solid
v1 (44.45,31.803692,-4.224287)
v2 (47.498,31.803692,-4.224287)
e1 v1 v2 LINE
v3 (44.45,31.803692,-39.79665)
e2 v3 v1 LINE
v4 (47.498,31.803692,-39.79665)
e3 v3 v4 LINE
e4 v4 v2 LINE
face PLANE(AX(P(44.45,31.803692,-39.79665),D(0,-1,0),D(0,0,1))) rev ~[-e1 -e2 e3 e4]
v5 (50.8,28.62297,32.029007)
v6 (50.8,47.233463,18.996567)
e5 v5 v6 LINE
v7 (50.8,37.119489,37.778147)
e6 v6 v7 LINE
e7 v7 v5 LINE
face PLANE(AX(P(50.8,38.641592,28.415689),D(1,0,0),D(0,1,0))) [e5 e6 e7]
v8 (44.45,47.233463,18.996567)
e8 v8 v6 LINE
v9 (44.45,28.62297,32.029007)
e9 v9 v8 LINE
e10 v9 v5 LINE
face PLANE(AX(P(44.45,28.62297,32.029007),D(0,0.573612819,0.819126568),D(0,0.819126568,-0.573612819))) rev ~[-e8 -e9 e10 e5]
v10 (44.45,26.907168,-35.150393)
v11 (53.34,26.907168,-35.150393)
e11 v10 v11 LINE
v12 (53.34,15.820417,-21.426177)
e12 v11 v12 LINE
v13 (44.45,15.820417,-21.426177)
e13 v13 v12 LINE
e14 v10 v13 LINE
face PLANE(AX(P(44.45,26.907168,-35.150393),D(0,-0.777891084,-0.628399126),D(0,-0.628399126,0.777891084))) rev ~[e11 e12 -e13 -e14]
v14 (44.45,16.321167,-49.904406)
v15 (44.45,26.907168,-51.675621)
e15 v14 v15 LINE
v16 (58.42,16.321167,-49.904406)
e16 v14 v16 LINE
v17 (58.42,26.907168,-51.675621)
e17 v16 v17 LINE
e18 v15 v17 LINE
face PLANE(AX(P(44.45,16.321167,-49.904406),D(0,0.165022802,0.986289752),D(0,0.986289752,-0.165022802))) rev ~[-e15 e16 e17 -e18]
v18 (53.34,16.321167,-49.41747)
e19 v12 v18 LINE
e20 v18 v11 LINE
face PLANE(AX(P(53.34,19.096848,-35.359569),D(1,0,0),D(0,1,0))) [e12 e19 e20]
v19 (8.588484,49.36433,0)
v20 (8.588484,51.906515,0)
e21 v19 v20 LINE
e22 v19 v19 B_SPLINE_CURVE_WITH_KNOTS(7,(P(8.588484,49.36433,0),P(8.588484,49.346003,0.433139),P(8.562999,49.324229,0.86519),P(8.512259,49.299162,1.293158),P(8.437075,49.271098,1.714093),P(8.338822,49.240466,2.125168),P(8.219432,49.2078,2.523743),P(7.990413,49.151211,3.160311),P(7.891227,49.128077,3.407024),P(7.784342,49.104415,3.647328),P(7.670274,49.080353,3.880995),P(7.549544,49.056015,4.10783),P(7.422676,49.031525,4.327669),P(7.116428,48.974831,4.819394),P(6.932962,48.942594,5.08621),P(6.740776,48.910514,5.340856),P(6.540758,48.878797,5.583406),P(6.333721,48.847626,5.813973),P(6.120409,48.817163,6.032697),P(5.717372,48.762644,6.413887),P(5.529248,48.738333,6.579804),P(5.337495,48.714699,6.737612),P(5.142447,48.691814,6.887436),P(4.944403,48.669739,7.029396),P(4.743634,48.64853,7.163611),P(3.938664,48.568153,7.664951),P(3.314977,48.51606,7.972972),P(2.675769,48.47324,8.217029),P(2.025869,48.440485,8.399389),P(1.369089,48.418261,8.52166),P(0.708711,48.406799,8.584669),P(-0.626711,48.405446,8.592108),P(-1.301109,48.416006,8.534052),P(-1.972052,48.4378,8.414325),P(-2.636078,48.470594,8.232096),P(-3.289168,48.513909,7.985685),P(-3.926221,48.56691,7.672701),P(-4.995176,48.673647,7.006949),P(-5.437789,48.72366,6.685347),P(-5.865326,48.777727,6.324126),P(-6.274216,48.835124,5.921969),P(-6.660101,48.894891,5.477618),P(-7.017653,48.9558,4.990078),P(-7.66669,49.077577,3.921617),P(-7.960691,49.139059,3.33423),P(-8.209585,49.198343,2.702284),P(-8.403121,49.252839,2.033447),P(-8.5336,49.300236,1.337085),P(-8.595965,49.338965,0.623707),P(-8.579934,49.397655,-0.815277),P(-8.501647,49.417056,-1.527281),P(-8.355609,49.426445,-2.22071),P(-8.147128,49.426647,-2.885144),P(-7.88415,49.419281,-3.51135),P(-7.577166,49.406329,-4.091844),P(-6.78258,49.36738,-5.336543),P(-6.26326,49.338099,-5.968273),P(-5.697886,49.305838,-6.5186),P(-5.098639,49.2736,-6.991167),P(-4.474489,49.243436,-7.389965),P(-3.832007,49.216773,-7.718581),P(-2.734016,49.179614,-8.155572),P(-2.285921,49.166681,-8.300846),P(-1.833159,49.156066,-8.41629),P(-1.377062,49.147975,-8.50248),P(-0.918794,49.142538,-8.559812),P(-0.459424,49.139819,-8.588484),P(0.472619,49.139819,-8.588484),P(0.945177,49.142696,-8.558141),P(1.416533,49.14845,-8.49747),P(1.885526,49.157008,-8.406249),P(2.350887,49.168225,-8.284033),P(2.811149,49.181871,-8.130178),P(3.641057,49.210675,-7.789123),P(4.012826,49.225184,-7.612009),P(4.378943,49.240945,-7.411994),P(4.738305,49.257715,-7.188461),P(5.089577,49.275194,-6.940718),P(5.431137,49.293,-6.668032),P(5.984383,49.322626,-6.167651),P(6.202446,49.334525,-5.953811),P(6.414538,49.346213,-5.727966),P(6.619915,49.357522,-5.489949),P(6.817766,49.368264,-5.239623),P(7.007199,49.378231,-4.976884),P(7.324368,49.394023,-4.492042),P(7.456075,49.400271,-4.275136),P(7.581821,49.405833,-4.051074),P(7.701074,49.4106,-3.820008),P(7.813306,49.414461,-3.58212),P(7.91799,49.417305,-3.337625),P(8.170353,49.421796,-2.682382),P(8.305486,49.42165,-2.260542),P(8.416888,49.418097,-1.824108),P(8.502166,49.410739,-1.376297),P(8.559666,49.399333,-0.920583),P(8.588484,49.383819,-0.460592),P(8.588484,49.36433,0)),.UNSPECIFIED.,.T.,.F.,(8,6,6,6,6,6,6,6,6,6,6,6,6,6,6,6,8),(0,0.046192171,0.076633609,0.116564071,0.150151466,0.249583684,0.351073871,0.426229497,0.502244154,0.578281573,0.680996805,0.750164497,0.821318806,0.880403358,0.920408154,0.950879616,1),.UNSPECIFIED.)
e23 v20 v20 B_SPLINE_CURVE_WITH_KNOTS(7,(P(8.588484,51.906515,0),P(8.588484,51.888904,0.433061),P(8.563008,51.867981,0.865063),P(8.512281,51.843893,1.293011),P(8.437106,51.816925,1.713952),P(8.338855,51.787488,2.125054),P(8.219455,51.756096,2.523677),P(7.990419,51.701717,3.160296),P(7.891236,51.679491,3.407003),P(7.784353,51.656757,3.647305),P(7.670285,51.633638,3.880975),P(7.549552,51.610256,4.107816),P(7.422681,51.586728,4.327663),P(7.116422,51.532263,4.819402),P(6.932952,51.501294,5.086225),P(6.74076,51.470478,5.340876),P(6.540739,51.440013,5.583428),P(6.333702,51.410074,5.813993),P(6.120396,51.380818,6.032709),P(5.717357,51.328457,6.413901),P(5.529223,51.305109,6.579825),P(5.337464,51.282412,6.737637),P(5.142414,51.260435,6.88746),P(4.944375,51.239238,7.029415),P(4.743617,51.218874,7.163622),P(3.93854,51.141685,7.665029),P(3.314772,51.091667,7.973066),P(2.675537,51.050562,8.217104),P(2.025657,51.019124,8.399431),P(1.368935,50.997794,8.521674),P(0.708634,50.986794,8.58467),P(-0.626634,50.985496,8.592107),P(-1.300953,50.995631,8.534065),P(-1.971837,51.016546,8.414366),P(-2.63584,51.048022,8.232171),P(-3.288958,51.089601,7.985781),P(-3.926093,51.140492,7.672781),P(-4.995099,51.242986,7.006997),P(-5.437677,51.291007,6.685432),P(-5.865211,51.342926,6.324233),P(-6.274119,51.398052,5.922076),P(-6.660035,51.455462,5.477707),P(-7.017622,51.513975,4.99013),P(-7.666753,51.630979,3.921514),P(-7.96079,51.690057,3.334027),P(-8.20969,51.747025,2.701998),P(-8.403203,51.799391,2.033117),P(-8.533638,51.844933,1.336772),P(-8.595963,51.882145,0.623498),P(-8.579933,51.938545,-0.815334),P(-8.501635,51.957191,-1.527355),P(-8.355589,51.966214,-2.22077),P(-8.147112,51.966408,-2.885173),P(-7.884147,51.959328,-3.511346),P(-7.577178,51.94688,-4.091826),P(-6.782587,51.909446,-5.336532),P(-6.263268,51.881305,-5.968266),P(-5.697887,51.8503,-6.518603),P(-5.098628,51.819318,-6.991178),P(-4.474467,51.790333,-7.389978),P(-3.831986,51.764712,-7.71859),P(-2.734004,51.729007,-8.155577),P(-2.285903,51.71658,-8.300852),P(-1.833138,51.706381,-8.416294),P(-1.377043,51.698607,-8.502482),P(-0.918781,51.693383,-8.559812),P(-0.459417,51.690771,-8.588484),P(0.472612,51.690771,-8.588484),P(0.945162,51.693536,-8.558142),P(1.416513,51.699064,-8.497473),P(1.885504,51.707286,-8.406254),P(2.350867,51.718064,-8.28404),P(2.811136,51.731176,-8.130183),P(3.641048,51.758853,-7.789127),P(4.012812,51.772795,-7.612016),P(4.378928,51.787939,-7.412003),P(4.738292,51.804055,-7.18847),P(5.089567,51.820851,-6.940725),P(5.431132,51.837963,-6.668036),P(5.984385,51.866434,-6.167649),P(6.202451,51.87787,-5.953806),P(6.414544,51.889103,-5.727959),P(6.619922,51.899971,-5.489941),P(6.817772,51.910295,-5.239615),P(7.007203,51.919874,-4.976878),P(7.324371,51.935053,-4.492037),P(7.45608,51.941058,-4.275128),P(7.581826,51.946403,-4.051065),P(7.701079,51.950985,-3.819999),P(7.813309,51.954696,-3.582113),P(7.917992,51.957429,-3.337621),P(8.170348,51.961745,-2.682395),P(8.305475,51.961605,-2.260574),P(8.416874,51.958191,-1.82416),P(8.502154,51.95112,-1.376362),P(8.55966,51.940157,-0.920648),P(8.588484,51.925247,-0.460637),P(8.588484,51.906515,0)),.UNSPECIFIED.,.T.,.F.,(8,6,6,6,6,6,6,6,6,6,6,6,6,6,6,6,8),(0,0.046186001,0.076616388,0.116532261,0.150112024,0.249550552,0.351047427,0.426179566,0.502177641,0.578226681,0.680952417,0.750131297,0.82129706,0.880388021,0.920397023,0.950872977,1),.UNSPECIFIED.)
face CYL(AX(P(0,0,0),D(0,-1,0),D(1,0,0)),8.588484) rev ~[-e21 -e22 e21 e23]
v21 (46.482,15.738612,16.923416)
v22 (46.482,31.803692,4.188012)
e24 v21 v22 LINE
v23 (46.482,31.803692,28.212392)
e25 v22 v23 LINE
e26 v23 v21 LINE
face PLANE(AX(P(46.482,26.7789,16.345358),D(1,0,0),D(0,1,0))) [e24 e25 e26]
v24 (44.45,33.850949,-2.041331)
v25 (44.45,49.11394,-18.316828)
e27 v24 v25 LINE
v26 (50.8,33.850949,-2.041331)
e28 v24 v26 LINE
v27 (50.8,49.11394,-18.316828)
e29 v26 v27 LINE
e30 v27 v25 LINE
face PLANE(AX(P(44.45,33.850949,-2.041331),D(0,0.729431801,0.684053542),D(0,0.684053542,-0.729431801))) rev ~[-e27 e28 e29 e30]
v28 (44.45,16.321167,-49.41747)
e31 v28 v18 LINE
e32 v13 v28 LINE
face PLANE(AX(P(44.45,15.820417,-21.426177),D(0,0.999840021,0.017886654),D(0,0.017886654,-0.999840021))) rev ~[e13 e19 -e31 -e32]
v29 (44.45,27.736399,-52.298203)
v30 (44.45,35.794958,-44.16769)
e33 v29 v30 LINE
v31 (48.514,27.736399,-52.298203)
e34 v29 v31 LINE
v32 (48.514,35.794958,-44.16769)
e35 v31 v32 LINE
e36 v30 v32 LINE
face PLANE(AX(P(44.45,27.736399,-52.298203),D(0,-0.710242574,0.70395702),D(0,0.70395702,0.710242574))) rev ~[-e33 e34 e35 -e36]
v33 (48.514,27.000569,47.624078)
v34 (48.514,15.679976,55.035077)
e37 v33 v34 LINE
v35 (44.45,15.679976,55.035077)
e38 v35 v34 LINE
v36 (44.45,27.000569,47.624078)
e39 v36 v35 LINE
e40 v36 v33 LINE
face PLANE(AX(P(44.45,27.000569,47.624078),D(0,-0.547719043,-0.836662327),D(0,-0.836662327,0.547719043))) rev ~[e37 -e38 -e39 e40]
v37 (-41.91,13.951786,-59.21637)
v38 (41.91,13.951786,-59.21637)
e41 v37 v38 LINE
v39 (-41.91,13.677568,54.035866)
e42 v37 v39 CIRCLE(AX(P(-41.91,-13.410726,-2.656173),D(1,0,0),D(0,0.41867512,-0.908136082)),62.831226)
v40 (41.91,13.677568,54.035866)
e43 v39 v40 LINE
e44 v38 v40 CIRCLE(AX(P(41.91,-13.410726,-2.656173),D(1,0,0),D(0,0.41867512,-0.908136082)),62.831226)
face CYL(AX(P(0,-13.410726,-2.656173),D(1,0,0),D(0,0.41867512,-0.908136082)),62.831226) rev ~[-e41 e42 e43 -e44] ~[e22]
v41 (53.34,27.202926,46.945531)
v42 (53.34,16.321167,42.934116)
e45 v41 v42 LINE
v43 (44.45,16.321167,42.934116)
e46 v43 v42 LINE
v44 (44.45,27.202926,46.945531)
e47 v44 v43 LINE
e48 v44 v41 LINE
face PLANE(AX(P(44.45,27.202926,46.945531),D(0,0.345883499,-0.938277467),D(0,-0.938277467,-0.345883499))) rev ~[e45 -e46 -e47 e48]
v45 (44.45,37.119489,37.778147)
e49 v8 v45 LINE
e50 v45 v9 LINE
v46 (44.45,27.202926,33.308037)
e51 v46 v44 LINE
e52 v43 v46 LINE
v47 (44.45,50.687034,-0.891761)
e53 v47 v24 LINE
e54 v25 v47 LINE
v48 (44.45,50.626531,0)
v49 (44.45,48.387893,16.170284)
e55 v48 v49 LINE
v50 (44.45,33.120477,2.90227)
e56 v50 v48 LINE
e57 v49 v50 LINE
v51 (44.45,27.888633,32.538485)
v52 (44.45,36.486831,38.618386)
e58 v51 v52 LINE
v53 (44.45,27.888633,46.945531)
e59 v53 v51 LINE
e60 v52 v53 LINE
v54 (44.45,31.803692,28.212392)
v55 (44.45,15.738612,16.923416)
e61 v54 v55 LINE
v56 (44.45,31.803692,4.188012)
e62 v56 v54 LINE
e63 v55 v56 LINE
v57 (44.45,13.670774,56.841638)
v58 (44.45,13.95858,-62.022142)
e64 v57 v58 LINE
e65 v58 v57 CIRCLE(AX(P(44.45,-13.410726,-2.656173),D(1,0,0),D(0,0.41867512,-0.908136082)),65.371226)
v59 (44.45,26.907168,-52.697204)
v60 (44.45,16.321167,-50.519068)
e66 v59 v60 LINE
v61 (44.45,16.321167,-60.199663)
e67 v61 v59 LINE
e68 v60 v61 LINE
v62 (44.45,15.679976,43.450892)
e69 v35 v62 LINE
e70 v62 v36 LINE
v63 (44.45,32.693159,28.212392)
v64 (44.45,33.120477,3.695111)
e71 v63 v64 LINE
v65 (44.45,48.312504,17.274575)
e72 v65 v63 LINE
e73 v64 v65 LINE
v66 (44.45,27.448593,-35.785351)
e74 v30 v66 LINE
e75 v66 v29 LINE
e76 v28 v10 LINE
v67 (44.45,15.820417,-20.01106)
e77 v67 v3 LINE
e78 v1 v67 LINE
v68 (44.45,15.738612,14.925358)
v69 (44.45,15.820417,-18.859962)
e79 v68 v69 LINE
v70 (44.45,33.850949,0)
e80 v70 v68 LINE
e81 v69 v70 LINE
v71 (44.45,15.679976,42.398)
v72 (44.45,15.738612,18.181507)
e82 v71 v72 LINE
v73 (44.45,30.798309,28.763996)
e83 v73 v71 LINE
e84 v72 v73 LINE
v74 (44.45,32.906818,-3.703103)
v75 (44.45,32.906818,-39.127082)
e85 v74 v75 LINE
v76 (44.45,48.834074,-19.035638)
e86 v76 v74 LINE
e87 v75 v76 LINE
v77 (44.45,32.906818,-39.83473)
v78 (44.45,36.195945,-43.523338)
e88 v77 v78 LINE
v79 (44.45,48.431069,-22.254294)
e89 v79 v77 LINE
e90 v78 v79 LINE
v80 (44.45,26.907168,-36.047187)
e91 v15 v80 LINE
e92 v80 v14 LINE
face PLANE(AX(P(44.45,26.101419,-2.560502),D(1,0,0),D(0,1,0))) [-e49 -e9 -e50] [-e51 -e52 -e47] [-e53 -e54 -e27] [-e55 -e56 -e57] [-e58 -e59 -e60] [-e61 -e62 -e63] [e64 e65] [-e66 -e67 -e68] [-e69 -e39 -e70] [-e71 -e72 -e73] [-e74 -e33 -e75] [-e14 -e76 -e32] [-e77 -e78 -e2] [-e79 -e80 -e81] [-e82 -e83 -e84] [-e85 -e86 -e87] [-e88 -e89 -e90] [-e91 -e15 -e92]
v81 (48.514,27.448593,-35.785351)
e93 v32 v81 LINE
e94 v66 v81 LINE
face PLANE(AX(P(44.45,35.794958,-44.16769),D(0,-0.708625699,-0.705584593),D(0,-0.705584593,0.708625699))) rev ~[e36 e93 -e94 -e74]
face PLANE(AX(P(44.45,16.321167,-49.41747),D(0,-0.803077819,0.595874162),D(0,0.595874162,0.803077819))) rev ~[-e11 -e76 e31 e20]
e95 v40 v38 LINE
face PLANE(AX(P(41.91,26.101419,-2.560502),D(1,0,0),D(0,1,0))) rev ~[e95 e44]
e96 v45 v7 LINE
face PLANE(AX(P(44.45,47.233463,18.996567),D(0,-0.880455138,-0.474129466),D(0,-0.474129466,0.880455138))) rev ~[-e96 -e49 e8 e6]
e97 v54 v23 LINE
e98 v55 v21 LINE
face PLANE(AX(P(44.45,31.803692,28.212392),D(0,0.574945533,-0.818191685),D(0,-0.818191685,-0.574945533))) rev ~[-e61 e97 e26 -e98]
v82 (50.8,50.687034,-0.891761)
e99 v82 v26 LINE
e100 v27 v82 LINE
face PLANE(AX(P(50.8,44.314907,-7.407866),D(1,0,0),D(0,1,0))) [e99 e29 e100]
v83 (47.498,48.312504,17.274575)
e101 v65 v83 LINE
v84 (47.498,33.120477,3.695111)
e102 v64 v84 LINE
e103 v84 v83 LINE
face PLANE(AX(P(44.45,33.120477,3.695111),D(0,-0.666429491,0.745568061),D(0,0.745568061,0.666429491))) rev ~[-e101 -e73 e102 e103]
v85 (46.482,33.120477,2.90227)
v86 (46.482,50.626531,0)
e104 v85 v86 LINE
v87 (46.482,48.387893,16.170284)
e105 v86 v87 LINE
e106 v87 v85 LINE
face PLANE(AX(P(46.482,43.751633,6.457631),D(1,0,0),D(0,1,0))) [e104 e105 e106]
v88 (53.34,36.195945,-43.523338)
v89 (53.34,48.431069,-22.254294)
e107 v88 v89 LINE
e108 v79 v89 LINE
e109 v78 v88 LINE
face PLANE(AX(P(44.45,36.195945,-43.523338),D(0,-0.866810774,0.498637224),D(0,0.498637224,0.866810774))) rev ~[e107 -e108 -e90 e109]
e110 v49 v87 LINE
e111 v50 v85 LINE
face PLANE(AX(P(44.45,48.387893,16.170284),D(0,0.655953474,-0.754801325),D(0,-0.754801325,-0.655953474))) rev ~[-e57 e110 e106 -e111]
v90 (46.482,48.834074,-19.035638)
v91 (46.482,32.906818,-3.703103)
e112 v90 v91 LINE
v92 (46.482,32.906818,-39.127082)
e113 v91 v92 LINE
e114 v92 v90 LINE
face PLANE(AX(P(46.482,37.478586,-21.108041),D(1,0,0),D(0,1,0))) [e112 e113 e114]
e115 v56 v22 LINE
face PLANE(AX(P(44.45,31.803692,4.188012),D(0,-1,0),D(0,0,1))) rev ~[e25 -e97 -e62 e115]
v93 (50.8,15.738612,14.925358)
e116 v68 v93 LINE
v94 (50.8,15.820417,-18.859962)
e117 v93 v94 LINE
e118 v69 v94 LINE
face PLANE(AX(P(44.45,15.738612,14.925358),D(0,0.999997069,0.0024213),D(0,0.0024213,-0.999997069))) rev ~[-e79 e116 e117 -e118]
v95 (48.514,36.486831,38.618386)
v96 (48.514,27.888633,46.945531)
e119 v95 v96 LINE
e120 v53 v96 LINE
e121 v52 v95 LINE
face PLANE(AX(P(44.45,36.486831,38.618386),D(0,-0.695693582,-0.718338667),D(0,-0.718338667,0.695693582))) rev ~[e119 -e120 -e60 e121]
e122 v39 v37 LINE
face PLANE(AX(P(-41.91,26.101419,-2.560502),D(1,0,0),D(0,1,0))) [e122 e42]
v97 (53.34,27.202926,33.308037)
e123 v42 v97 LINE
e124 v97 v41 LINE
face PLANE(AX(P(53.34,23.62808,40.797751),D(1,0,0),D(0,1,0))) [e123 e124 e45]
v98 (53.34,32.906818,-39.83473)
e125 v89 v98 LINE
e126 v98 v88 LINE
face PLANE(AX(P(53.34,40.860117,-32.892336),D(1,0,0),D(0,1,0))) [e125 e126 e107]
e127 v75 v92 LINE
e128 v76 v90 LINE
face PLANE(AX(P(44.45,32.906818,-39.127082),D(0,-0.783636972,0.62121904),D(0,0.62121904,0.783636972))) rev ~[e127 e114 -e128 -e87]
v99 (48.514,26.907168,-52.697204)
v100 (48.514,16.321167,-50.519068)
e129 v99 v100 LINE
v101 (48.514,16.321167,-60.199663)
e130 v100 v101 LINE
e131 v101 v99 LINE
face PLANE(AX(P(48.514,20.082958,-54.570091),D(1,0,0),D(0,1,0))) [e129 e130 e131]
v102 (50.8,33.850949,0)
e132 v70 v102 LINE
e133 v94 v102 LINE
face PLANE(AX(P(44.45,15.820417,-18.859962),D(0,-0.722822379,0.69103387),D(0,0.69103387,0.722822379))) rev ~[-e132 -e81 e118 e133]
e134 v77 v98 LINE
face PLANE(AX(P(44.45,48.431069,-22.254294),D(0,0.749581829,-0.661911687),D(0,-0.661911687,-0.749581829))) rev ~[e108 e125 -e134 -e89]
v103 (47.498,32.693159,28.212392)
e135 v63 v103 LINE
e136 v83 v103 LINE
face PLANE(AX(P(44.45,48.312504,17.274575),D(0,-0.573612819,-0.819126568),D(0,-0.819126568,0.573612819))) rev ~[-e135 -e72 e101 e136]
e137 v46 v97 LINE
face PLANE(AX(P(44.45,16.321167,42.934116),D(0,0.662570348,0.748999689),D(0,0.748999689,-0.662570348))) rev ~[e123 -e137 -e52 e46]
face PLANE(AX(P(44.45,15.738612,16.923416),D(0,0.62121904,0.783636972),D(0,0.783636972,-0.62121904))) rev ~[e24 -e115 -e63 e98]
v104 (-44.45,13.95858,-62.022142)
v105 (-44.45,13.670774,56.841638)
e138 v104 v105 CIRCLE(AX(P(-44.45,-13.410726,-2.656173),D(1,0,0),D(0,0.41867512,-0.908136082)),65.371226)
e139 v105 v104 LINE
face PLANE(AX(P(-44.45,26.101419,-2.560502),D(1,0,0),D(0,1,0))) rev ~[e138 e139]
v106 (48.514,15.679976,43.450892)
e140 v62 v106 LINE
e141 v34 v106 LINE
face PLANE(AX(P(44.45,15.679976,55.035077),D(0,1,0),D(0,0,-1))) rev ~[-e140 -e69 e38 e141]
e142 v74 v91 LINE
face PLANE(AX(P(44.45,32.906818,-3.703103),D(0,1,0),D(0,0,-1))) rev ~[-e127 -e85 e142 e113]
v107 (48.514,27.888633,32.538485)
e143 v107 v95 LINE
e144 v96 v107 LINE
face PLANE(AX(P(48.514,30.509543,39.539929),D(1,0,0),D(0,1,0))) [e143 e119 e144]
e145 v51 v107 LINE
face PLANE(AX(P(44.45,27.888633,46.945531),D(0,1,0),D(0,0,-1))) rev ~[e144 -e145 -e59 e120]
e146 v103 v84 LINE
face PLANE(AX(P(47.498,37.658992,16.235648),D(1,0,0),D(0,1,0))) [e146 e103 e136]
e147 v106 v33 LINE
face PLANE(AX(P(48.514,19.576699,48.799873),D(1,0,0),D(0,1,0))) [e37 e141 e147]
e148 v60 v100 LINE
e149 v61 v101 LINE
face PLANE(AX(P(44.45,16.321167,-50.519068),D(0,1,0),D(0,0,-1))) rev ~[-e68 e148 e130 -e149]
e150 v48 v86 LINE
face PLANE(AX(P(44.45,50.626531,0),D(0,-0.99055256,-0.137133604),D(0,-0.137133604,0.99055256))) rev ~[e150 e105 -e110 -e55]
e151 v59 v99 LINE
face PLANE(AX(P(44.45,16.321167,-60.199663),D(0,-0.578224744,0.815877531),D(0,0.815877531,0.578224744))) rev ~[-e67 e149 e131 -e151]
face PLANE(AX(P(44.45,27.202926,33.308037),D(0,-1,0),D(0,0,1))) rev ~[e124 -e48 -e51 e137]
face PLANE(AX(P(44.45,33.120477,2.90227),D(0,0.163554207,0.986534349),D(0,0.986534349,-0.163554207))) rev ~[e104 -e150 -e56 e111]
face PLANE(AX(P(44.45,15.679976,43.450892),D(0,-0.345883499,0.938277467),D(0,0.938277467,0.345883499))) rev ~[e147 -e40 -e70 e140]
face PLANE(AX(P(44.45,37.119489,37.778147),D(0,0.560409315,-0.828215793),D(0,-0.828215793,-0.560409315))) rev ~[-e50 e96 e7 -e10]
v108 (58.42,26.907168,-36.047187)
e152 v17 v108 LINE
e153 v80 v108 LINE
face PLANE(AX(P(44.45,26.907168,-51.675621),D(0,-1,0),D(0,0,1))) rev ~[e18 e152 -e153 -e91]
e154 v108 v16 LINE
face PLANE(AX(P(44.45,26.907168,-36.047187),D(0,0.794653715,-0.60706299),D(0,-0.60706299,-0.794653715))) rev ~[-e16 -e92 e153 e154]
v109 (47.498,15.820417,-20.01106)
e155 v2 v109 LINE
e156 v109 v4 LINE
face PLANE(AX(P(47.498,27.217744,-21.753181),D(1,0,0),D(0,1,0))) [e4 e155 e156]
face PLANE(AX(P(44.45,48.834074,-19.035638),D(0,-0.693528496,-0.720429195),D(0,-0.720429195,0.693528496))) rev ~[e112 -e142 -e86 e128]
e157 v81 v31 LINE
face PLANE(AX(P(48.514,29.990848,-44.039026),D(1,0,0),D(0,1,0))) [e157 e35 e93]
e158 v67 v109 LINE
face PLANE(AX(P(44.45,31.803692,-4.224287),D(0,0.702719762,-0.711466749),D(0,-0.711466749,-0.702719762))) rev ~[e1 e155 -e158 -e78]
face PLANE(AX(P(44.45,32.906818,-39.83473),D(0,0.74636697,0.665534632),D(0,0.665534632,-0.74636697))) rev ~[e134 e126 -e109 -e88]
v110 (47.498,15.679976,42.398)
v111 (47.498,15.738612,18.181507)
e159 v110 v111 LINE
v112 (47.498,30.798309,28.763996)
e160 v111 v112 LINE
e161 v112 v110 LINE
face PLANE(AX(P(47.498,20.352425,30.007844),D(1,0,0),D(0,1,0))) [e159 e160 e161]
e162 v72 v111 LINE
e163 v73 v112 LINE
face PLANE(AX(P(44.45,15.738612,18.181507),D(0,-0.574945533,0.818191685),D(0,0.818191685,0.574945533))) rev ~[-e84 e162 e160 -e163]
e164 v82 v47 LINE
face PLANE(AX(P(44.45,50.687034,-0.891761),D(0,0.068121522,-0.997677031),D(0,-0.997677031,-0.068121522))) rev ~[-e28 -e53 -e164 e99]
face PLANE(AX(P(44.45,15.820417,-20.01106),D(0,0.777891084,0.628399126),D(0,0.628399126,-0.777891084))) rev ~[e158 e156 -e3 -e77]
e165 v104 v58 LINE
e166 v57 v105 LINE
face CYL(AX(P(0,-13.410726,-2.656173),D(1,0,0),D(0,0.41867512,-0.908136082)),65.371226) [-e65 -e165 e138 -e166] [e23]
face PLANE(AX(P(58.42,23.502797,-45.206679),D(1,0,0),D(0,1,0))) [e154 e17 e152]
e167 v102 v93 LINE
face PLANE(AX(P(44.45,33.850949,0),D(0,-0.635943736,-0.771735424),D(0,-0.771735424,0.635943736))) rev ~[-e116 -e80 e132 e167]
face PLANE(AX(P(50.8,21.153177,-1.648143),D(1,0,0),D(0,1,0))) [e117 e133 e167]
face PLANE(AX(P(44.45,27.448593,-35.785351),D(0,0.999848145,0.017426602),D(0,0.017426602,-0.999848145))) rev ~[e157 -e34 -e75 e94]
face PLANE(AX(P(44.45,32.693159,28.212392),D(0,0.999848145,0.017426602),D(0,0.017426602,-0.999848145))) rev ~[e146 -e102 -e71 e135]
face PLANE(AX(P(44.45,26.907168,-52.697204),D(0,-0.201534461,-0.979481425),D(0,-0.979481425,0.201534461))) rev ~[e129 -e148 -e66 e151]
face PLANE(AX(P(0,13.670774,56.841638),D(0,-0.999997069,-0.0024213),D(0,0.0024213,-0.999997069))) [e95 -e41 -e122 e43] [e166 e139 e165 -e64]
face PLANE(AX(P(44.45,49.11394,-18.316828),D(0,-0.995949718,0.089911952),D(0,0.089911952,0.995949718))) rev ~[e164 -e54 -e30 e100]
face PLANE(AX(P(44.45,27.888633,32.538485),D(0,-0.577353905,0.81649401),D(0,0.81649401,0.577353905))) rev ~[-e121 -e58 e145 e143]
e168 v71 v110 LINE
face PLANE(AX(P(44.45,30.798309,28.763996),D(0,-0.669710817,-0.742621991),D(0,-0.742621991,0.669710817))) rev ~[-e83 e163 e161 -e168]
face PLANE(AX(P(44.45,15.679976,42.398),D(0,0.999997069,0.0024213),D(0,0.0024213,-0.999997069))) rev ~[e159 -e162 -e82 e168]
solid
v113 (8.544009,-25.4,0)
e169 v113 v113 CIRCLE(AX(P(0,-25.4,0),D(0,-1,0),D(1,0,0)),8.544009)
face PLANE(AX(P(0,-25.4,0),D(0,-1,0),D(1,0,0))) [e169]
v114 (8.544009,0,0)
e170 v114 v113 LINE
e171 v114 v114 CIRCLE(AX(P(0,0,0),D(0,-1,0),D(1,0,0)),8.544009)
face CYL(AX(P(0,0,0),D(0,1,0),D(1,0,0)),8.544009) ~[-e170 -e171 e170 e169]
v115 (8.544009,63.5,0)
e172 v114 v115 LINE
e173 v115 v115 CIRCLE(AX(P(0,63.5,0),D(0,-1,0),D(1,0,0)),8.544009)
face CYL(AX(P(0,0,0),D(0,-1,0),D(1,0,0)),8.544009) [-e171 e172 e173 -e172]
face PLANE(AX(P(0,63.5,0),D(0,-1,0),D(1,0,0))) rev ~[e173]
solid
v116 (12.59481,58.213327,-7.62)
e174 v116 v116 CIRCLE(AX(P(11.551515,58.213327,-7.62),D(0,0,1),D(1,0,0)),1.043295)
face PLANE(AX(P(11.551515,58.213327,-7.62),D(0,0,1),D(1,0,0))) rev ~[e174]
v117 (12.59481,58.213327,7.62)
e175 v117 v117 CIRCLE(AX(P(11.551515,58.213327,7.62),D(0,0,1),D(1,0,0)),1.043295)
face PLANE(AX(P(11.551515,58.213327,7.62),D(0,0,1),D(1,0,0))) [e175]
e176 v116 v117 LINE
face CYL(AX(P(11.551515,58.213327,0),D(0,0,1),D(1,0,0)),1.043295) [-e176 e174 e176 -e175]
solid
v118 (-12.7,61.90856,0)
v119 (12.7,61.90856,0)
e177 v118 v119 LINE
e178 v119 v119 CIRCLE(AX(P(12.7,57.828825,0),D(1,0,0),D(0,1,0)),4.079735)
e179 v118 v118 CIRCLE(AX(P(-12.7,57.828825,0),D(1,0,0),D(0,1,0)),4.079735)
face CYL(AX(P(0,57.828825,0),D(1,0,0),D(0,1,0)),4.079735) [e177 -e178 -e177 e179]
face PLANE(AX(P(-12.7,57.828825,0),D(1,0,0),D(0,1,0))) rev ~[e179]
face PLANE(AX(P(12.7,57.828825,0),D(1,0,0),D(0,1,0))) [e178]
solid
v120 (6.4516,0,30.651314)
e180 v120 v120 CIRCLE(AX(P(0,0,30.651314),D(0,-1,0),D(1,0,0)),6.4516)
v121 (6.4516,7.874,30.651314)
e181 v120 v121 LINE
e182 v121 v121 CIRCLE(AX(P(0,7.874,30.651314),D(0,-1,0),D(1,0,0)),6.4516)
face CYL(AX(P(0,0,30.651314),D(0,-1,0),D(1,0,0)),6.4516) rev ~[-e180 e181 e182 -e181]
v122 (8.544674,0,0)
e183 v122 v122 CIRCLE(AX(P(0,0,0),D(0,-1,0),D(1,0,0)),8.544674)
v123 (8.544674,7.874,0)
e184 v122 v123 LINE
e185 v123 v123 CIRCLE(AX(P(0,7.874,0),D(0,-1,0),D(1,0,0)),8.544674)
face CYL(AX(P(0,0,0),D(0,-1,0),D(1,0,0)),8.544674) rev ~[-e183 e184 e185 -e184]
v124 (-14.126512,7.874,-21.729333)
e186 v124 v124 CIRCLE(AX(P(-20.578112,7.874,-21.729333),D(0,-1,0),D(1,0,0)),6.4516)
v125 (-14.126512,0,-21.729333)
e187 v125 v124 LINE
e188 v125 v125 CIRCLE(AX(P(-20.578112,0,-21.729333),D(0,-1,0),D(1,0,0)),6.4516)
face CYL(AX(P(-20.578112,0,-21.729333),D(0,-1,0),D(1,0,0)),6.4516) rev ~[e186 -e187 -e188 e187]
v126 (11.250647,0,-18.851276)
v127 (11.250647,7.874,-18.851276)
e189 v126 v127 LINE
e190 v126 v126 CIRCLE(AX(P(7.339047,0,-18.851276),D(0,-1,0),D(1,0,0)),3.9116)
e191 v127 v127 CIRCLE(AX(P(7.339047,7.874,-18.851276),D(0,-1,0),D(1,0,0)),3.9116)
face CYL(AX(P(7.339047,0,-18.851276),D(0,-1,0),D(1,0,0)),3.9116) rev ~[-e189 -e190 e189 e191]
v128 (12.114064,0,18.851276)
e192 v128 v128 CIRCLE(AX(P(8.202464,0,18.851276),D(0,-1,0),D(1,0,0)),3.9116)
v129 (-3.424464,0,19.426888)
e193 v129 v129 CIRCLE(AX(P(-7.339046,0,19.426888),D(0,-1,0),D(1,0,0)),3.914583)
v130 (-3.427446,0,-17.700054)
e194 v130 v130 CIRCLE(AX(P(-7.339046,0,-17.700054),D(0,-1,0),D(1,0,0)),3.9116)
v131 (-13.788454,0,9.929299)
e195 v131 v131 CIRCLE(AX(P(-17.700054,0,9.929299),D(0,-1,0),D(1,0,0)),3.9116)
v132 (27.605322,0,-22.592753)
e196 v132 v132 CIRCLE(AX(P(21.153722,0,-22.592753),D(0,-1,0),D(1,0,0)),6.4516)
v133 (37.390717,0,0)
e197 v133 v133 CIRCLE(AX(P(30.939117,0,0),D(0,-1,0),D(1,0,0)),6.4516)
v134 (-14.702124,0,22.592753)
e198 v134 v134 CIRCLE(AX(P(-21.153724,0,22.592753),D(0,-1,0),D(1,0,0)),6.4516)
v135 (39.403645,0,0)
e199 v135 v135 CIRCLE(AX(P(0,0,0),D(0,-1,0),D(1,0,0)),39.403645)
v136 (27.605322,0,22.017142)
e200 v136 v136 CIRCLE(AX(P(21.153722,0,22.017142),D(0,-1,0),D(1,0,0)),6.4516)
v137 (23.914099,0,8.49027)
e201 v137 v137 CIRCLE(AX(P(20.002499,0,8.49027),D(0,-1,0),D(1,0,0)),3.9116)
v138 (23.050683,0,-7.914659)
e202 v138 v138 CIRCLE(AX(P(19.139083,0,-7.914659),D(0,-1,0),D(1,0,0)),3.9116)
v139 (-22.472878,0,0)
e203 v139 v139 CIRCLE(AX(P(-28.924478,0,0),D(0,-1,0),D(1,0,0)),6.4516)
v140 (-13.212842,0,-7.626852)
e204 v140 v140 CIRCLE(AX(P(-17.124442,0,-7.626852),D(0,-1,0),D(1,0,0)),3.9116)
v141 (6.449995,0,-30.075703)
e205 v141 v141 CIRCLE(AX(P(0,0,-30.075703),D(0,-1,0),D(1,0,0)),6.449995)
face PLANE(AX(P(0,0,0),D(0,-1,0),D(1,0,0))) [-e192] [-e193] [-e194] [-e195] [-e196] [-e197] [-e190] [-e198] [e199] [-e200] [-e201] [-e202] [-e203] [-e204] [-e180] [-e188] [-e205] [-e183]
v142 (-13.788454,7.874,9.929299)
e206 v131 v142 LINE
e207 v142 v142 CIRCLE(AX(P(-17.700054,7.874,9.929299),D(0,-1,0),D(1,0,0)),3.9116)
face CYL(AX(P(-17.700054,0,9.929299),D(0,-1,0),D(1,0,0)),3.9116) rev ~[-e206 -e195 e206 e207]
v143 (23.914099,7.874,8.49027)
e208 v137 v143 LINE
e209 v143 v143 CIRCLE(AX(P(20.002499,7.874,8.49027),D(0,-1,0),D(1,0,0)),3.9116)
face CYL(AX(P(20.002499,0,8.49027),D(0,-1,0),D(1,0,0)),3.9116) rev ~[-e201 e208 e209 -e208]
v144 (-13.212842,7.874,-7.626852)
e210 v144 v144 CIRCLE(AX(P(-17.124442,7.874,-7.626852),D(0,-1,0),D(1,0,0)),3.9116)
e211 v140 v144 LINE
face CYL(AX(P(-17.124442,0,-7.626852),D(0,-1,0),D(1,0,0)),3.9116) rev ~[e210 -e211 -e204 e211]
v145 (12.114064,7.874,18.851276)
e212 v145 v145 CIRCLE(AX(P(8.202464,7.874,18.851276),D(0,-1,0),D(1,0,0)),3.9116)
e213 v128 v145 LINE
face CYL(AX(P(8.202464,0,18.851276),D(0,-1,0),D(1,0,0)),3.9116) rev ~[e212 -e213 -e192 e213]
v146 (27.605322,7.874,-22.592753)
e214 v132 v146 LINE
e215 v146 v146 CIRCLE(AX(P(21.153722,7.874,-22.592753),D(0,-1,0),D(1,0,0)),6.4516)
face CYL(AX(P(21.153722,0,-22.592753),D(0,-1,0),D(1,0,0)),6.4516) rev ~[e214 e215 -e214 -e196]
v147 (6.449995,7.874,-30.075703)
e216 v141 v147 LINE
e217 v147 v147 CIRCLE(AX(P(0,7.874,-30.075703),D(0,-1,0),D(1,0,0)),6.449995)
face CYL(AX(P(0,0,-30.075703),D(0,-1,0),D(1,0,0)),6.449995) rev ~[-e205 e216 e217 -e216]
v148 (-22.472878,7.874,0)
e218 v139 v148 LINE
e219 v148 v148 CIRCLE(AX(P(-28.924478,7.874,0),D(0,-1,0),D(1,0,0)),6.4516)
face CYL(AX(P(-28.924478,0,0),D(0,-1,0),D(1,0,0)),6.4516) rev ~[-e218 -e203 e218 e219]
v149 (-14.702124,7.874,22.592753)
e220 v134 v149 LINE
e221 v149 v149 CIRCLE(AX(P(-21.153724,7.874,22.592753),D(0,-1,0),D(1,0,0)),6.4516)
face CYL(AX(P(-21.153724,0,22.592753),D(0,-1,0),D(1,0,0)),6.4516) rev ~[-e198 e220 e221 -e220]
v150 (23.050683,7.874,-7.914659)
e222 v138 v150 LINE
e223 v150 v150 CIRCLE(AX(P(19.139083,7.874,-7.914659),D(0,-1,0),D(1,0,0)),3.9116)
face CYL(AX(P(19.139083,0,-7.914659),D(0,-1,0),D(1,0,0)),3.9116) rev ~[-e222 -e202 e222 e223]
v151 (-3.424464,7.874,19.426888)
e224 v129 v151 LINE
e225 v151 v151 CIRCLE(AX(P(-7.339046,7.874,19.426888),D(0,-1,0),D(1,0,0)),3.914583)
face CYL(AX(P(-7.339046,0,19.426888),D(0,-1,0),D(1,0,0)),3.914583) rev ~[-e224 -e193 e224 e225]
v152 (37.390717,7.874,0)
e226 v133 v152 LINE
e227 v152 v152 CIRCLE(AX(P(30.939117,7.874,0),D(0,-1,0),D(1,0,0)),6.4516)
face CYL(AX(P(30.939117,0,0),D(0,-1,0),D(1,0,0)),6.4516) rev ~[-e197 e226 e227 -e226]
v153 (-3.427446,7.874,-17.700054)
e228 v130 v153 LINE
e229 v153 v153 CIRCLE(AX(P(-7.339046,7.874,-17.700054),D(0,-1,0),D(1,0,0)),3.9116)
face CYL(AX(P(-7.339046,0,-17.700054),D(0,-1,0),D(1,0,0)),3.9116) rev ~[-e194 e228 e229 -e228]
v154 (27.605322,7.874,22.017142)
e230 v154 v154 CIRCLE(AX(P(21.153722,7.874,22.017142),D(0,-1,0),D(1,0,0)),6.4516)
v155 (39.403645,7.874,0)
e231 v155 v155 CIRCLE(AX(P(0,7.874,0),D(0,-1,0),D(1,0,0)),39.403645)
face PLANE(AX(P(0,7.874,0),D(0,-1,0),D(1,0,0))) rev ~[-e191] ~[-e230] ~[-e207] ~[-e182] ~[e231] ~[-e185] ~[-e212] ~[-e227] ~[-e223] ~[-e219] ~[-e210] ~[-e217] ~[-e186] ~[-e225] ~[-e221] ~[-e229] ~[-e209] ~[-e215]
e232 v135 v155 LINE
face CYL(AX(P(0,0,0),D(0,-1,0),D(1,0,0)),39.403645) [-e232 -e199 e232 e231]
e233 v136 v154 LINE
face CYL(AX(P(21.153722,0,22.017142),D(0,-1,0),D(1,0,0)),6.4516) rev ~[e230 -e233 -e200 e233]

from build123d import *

# Parameters (mm, degrees)
F1_DEPTH       = 44.45
F2_T           = -2.54
F4_DEPTH       = 3.048
F5_DEPTH       = 2.032
F6_R           = 8.5884836505
F7_DEPTH       = 111.76
F8_R           = 39.4036450699
F8_R_2         = 6.4516
F8_R_3         = 3.9116
F8_R_4         = 6.449994717
F8_R_5         = 3.9145825761
F8_R_6         = 8.5446742393
F9_DEPTH       = 7.874
F10_DEPTH      = 4.064
F11_DEPTH      = 6.35
F12_DEPTH      = 8.89
F13_DEPTH      = 13.97
F14_R          = 8.5440093832
F15_DEPTH      = 63.5
F15_DEPTH_BACK = 25.4
F16_R          = 4.0797353241
F17_DEPTH      = 12.7
F18_R          = 1.0432951987
F19_DEPTH      = 7.62
F19_DEPTH_BACK = 7.62


with BuildPart() as f1:
    # F0 (on Right) → F1 (new body, symmetric)
    with BuildSketch(Plane.YZ):
        with BuildLine():
            Line((13.6707741767, 56.8416379392), (13.9585798606, -62.0221421123))
            ThreePointArc((13.9585798606, -62.0221421123), (51.9603082909, -2.4978898085), (13.6707741767, 56.8416379392))
        make_face()
    extrude(amount=F1_DEPTH, both=True)

    # F2
    f2_openings = [f1.faces().sort_by_distance(p)[0] for p in [
        (0, 13.814677, -2.590252),
    ]]
    offset(amount=F2_T, openings=f2_openings)

    # F3 (on face) → F4 (join)
    with BuildSketch(Plane.YZ.offset(44.45)):
        Polygon((48.3125038445, 17.274575308), (32.6931588352, 28.2123923316), (33.1204766431, 3.6951108838), align=None)
        Polygon((15.6799764807, 42.3979995422), (15.7386120409, 18.1815065444), (30.7983085513, 28.7639964372), align=None)
        Polygon((31.8036924781, -4.224287346), (15.8204166668, -20.0110599399), (31.8036924781, -39.7966504097), align=None)
        Polygon((50.6870336831, -0.891760923), (33.8509492576, -2.0413310267), (49.1139404476, -18.3168277144), align=None)
    extrude(amount=F4_DEPTH)

    # F3 (on face) → F5 (join)
    with BuildSketch(Plane.YZ.offset(44.45)):
        Polygon((31.8036924781, 28.2123923316), (15.7386120409, 16.9234164059), (31.8036924781, 4.1880118661), align=None)
        Polygon((48.3878925443, 16.1702837795), (33.1204766431, 2.9022698291), (50.6265312433, 0), align=None)
        Polygon((48.8340742216, -19.0356384646), (32.9068177391, -3.7031029351), (32.9068177391, -39.1270816326), align=None)
    extrude(amount=F5_DEPTH)

    # F6 (on Front) → F7 (cut)
    with BuildSketch(Plane.XZ):
        Circle(F6_R)
    extrude(amount=-F7_DEPTH, mode=Mode.SUBTRACT)

    # F3 (on face) → F10 (join)
    with BuildSketch(Plane.YZ.offset(44.45)):
        Polygon((36.4868305624, 38.6183857918), (27.8886333108, 46.9455313625), (27.8886333108, 32.538484782), align=None)
        Polygon((35.7949584723, -44.1676899791), (27.4485927075, -35.7853509486), (27.7363993227, -52.2982031107), align=None)
        Polygon((15.6799764807, 55.0350770354), (15.6799764807, 43.4508919716), (27.0005688071, 47.6240776479), align=None)
        Polygon((26.9071683567, -52.6972040534), (16.3211673498, -50.5190677941), (16.3211673498, -60.199663043), align=None)
    extrude(amount=F10_DEPTH)

    # F3 (on face) → F11 (join)
    with BuildSketch(Plane.YZ.offset(44.45)):
        Polygon((33.8509492576, 0), (15.7386120409, 14.9253578857), (15.8204166668, -18.8599619036), align=None)
        Polygon((37.1194891632, 37.778146565), (28.622969985, 32.0290066302), (47.2334629013, 18.9965672983), align=None)
        Polygon((50.6870336831, -0.891760923), (33.8509492576, -2.0413310267), (49.1139404476, -18.3168277144), align=None)
    extrude(amount=F11_DEPTH)

    # F3 (on face) → F12 (join)
    with BuildSketch(Plane.YZ.offset(44.45)):
        Polygon((27.2029257387, 46.9455313625), (16.3211673498, 42.9341159761), (27.2029257387, 33.3080366254), align=None)
        Polygon((26.9071683567, -35.1503925869), (15.8204166668, -21.4261766523), (16.3211673498, -49.4174696505), align=None)
        Polygon((48.4310686588, -22.2542937845), (32.9068177391, -39.8347303271), (36.1959449947, -43.523337692), align=None)
    extrude(amount=F12_DEPTH)

    # F3 (on face) → F13 (join)
    with BuildSketch(Plane.YZ.offset(44.45)):
        Polygon((26.9071683567, -36.0471867025), (16.3211673498, -49.9044060707), (26.9071683567, -51.6756214201), align=None)
    extrude(amount=F13_DEPTH)


with BuildPart() as f9:
    # F8 (on Front) → F9 (new body)
    with BuildSketch(Plane.XZ):
        Circle(F8_R)
        with Locations((-20.5781124532, -21.7293333262)):
            Circle(F8_R_2, mode=Mode.SUBTRACT)
        with Locations((-7.3390463367, -17.7000537515)):
            Circle(F8_R_3, mode=Mode.SUBTRACT)
        with Locations((-17.1244423836, -7.6268524863)):
            Circle(F8_R_3, mode=Mode.SUBTRACT)
        with Locations((0, -30.0757028162)):
            Circle(F8_R_4, mode=Mode.SUBTRACT)
        with Locations((21.1537219584, -22.5927531719)):
            Circle(F8_R_2, mode=Mode.SUBTRACT)
        with Locations((7.3390468024, -18.8512764871)):
            Circle(F8_R_3, mode=Mode.SUBTRACT)
        with Locations((19.1390831023, -7.9146586359)):
            Circle(F8_R_3, mode=Mode.SUBTRACT)
        with Locations((-28.924478218, 0)):
            Circle(F8_R_2, mode=Mode.SUBTRACT)
        with Locations((-17.7000537515, 9.9292993546)):
            Circle(F8_R_3, mode=Mode.SUBTRACT)
        with Locations((-7.3390463367, 19.4268878549)):
            Circle(F8_R_5, mode=Mode.SUBTRACT)
        with Locations((-21.153723821, 22.5927531719)):
            Circle(F8_R_2, mode=Mode.SUBTRACT)
        Circle(F8_R_6, mode=Mode.SUBTRACT)
        with Locations((8.2024643198, 18.8512764871)):
            Circle(F8_R_3, mode=Mode.SUBTRACT)
        with Locations((20.0024992228, 8.4902700037)):
            Circle(F8_R_3, mode=Mode.SUBTRACT)
        with Locations((30.939117074, 0)):
            Circle(F8_R_2, mode=Mode.SUBTRACT)
        with Locations((0, 30.6513141841)):
            Circle(F8_R_2, mode=Mode.SUBTRACT)
        with Locations((21.1537219584, 22.0171418041)):
            Circle(F8_R_2, mode=Mode.SUBTRACT)
    extrude(amount=-F9_DEPTH)


with BuildPart() as f15:
    # F14 (on Front) → F15 (new body, two sides)
    with BuildSketch(Plane.XZ) as f15_sk:
        Circle(F14_R)
    extrude(amount=-F15_DEPTH)
    extrude(f15_sk.sketch, amount=F15_DEPTH_BACK)


with BuildPart() as f17:
    # F16 (on Right) → F17 (new body, symmetric)
    with BuildSketch(Plane.YZ):
        with Locations((57.8288249671, 0)):
            Circle(F16_R)
    extrude(amount=F17_DEPTH, both=True)


with BuildPart() as f19:
    # F18 (on Top) → F19 (new body, two sides)
    with BuildSketch(Plane.XY) as f19_sk:
        with Locations((11.5515151992, 58.21332708)):
            Circle(F18_R)
    extrude(amount=F19_DEPTH)
    extrude(f19_sk.sketch, amount=-F19_DEPTH_BACK)


solid = Compound([f1.part, f9.part, f15.part, f17.part, f19.part])
